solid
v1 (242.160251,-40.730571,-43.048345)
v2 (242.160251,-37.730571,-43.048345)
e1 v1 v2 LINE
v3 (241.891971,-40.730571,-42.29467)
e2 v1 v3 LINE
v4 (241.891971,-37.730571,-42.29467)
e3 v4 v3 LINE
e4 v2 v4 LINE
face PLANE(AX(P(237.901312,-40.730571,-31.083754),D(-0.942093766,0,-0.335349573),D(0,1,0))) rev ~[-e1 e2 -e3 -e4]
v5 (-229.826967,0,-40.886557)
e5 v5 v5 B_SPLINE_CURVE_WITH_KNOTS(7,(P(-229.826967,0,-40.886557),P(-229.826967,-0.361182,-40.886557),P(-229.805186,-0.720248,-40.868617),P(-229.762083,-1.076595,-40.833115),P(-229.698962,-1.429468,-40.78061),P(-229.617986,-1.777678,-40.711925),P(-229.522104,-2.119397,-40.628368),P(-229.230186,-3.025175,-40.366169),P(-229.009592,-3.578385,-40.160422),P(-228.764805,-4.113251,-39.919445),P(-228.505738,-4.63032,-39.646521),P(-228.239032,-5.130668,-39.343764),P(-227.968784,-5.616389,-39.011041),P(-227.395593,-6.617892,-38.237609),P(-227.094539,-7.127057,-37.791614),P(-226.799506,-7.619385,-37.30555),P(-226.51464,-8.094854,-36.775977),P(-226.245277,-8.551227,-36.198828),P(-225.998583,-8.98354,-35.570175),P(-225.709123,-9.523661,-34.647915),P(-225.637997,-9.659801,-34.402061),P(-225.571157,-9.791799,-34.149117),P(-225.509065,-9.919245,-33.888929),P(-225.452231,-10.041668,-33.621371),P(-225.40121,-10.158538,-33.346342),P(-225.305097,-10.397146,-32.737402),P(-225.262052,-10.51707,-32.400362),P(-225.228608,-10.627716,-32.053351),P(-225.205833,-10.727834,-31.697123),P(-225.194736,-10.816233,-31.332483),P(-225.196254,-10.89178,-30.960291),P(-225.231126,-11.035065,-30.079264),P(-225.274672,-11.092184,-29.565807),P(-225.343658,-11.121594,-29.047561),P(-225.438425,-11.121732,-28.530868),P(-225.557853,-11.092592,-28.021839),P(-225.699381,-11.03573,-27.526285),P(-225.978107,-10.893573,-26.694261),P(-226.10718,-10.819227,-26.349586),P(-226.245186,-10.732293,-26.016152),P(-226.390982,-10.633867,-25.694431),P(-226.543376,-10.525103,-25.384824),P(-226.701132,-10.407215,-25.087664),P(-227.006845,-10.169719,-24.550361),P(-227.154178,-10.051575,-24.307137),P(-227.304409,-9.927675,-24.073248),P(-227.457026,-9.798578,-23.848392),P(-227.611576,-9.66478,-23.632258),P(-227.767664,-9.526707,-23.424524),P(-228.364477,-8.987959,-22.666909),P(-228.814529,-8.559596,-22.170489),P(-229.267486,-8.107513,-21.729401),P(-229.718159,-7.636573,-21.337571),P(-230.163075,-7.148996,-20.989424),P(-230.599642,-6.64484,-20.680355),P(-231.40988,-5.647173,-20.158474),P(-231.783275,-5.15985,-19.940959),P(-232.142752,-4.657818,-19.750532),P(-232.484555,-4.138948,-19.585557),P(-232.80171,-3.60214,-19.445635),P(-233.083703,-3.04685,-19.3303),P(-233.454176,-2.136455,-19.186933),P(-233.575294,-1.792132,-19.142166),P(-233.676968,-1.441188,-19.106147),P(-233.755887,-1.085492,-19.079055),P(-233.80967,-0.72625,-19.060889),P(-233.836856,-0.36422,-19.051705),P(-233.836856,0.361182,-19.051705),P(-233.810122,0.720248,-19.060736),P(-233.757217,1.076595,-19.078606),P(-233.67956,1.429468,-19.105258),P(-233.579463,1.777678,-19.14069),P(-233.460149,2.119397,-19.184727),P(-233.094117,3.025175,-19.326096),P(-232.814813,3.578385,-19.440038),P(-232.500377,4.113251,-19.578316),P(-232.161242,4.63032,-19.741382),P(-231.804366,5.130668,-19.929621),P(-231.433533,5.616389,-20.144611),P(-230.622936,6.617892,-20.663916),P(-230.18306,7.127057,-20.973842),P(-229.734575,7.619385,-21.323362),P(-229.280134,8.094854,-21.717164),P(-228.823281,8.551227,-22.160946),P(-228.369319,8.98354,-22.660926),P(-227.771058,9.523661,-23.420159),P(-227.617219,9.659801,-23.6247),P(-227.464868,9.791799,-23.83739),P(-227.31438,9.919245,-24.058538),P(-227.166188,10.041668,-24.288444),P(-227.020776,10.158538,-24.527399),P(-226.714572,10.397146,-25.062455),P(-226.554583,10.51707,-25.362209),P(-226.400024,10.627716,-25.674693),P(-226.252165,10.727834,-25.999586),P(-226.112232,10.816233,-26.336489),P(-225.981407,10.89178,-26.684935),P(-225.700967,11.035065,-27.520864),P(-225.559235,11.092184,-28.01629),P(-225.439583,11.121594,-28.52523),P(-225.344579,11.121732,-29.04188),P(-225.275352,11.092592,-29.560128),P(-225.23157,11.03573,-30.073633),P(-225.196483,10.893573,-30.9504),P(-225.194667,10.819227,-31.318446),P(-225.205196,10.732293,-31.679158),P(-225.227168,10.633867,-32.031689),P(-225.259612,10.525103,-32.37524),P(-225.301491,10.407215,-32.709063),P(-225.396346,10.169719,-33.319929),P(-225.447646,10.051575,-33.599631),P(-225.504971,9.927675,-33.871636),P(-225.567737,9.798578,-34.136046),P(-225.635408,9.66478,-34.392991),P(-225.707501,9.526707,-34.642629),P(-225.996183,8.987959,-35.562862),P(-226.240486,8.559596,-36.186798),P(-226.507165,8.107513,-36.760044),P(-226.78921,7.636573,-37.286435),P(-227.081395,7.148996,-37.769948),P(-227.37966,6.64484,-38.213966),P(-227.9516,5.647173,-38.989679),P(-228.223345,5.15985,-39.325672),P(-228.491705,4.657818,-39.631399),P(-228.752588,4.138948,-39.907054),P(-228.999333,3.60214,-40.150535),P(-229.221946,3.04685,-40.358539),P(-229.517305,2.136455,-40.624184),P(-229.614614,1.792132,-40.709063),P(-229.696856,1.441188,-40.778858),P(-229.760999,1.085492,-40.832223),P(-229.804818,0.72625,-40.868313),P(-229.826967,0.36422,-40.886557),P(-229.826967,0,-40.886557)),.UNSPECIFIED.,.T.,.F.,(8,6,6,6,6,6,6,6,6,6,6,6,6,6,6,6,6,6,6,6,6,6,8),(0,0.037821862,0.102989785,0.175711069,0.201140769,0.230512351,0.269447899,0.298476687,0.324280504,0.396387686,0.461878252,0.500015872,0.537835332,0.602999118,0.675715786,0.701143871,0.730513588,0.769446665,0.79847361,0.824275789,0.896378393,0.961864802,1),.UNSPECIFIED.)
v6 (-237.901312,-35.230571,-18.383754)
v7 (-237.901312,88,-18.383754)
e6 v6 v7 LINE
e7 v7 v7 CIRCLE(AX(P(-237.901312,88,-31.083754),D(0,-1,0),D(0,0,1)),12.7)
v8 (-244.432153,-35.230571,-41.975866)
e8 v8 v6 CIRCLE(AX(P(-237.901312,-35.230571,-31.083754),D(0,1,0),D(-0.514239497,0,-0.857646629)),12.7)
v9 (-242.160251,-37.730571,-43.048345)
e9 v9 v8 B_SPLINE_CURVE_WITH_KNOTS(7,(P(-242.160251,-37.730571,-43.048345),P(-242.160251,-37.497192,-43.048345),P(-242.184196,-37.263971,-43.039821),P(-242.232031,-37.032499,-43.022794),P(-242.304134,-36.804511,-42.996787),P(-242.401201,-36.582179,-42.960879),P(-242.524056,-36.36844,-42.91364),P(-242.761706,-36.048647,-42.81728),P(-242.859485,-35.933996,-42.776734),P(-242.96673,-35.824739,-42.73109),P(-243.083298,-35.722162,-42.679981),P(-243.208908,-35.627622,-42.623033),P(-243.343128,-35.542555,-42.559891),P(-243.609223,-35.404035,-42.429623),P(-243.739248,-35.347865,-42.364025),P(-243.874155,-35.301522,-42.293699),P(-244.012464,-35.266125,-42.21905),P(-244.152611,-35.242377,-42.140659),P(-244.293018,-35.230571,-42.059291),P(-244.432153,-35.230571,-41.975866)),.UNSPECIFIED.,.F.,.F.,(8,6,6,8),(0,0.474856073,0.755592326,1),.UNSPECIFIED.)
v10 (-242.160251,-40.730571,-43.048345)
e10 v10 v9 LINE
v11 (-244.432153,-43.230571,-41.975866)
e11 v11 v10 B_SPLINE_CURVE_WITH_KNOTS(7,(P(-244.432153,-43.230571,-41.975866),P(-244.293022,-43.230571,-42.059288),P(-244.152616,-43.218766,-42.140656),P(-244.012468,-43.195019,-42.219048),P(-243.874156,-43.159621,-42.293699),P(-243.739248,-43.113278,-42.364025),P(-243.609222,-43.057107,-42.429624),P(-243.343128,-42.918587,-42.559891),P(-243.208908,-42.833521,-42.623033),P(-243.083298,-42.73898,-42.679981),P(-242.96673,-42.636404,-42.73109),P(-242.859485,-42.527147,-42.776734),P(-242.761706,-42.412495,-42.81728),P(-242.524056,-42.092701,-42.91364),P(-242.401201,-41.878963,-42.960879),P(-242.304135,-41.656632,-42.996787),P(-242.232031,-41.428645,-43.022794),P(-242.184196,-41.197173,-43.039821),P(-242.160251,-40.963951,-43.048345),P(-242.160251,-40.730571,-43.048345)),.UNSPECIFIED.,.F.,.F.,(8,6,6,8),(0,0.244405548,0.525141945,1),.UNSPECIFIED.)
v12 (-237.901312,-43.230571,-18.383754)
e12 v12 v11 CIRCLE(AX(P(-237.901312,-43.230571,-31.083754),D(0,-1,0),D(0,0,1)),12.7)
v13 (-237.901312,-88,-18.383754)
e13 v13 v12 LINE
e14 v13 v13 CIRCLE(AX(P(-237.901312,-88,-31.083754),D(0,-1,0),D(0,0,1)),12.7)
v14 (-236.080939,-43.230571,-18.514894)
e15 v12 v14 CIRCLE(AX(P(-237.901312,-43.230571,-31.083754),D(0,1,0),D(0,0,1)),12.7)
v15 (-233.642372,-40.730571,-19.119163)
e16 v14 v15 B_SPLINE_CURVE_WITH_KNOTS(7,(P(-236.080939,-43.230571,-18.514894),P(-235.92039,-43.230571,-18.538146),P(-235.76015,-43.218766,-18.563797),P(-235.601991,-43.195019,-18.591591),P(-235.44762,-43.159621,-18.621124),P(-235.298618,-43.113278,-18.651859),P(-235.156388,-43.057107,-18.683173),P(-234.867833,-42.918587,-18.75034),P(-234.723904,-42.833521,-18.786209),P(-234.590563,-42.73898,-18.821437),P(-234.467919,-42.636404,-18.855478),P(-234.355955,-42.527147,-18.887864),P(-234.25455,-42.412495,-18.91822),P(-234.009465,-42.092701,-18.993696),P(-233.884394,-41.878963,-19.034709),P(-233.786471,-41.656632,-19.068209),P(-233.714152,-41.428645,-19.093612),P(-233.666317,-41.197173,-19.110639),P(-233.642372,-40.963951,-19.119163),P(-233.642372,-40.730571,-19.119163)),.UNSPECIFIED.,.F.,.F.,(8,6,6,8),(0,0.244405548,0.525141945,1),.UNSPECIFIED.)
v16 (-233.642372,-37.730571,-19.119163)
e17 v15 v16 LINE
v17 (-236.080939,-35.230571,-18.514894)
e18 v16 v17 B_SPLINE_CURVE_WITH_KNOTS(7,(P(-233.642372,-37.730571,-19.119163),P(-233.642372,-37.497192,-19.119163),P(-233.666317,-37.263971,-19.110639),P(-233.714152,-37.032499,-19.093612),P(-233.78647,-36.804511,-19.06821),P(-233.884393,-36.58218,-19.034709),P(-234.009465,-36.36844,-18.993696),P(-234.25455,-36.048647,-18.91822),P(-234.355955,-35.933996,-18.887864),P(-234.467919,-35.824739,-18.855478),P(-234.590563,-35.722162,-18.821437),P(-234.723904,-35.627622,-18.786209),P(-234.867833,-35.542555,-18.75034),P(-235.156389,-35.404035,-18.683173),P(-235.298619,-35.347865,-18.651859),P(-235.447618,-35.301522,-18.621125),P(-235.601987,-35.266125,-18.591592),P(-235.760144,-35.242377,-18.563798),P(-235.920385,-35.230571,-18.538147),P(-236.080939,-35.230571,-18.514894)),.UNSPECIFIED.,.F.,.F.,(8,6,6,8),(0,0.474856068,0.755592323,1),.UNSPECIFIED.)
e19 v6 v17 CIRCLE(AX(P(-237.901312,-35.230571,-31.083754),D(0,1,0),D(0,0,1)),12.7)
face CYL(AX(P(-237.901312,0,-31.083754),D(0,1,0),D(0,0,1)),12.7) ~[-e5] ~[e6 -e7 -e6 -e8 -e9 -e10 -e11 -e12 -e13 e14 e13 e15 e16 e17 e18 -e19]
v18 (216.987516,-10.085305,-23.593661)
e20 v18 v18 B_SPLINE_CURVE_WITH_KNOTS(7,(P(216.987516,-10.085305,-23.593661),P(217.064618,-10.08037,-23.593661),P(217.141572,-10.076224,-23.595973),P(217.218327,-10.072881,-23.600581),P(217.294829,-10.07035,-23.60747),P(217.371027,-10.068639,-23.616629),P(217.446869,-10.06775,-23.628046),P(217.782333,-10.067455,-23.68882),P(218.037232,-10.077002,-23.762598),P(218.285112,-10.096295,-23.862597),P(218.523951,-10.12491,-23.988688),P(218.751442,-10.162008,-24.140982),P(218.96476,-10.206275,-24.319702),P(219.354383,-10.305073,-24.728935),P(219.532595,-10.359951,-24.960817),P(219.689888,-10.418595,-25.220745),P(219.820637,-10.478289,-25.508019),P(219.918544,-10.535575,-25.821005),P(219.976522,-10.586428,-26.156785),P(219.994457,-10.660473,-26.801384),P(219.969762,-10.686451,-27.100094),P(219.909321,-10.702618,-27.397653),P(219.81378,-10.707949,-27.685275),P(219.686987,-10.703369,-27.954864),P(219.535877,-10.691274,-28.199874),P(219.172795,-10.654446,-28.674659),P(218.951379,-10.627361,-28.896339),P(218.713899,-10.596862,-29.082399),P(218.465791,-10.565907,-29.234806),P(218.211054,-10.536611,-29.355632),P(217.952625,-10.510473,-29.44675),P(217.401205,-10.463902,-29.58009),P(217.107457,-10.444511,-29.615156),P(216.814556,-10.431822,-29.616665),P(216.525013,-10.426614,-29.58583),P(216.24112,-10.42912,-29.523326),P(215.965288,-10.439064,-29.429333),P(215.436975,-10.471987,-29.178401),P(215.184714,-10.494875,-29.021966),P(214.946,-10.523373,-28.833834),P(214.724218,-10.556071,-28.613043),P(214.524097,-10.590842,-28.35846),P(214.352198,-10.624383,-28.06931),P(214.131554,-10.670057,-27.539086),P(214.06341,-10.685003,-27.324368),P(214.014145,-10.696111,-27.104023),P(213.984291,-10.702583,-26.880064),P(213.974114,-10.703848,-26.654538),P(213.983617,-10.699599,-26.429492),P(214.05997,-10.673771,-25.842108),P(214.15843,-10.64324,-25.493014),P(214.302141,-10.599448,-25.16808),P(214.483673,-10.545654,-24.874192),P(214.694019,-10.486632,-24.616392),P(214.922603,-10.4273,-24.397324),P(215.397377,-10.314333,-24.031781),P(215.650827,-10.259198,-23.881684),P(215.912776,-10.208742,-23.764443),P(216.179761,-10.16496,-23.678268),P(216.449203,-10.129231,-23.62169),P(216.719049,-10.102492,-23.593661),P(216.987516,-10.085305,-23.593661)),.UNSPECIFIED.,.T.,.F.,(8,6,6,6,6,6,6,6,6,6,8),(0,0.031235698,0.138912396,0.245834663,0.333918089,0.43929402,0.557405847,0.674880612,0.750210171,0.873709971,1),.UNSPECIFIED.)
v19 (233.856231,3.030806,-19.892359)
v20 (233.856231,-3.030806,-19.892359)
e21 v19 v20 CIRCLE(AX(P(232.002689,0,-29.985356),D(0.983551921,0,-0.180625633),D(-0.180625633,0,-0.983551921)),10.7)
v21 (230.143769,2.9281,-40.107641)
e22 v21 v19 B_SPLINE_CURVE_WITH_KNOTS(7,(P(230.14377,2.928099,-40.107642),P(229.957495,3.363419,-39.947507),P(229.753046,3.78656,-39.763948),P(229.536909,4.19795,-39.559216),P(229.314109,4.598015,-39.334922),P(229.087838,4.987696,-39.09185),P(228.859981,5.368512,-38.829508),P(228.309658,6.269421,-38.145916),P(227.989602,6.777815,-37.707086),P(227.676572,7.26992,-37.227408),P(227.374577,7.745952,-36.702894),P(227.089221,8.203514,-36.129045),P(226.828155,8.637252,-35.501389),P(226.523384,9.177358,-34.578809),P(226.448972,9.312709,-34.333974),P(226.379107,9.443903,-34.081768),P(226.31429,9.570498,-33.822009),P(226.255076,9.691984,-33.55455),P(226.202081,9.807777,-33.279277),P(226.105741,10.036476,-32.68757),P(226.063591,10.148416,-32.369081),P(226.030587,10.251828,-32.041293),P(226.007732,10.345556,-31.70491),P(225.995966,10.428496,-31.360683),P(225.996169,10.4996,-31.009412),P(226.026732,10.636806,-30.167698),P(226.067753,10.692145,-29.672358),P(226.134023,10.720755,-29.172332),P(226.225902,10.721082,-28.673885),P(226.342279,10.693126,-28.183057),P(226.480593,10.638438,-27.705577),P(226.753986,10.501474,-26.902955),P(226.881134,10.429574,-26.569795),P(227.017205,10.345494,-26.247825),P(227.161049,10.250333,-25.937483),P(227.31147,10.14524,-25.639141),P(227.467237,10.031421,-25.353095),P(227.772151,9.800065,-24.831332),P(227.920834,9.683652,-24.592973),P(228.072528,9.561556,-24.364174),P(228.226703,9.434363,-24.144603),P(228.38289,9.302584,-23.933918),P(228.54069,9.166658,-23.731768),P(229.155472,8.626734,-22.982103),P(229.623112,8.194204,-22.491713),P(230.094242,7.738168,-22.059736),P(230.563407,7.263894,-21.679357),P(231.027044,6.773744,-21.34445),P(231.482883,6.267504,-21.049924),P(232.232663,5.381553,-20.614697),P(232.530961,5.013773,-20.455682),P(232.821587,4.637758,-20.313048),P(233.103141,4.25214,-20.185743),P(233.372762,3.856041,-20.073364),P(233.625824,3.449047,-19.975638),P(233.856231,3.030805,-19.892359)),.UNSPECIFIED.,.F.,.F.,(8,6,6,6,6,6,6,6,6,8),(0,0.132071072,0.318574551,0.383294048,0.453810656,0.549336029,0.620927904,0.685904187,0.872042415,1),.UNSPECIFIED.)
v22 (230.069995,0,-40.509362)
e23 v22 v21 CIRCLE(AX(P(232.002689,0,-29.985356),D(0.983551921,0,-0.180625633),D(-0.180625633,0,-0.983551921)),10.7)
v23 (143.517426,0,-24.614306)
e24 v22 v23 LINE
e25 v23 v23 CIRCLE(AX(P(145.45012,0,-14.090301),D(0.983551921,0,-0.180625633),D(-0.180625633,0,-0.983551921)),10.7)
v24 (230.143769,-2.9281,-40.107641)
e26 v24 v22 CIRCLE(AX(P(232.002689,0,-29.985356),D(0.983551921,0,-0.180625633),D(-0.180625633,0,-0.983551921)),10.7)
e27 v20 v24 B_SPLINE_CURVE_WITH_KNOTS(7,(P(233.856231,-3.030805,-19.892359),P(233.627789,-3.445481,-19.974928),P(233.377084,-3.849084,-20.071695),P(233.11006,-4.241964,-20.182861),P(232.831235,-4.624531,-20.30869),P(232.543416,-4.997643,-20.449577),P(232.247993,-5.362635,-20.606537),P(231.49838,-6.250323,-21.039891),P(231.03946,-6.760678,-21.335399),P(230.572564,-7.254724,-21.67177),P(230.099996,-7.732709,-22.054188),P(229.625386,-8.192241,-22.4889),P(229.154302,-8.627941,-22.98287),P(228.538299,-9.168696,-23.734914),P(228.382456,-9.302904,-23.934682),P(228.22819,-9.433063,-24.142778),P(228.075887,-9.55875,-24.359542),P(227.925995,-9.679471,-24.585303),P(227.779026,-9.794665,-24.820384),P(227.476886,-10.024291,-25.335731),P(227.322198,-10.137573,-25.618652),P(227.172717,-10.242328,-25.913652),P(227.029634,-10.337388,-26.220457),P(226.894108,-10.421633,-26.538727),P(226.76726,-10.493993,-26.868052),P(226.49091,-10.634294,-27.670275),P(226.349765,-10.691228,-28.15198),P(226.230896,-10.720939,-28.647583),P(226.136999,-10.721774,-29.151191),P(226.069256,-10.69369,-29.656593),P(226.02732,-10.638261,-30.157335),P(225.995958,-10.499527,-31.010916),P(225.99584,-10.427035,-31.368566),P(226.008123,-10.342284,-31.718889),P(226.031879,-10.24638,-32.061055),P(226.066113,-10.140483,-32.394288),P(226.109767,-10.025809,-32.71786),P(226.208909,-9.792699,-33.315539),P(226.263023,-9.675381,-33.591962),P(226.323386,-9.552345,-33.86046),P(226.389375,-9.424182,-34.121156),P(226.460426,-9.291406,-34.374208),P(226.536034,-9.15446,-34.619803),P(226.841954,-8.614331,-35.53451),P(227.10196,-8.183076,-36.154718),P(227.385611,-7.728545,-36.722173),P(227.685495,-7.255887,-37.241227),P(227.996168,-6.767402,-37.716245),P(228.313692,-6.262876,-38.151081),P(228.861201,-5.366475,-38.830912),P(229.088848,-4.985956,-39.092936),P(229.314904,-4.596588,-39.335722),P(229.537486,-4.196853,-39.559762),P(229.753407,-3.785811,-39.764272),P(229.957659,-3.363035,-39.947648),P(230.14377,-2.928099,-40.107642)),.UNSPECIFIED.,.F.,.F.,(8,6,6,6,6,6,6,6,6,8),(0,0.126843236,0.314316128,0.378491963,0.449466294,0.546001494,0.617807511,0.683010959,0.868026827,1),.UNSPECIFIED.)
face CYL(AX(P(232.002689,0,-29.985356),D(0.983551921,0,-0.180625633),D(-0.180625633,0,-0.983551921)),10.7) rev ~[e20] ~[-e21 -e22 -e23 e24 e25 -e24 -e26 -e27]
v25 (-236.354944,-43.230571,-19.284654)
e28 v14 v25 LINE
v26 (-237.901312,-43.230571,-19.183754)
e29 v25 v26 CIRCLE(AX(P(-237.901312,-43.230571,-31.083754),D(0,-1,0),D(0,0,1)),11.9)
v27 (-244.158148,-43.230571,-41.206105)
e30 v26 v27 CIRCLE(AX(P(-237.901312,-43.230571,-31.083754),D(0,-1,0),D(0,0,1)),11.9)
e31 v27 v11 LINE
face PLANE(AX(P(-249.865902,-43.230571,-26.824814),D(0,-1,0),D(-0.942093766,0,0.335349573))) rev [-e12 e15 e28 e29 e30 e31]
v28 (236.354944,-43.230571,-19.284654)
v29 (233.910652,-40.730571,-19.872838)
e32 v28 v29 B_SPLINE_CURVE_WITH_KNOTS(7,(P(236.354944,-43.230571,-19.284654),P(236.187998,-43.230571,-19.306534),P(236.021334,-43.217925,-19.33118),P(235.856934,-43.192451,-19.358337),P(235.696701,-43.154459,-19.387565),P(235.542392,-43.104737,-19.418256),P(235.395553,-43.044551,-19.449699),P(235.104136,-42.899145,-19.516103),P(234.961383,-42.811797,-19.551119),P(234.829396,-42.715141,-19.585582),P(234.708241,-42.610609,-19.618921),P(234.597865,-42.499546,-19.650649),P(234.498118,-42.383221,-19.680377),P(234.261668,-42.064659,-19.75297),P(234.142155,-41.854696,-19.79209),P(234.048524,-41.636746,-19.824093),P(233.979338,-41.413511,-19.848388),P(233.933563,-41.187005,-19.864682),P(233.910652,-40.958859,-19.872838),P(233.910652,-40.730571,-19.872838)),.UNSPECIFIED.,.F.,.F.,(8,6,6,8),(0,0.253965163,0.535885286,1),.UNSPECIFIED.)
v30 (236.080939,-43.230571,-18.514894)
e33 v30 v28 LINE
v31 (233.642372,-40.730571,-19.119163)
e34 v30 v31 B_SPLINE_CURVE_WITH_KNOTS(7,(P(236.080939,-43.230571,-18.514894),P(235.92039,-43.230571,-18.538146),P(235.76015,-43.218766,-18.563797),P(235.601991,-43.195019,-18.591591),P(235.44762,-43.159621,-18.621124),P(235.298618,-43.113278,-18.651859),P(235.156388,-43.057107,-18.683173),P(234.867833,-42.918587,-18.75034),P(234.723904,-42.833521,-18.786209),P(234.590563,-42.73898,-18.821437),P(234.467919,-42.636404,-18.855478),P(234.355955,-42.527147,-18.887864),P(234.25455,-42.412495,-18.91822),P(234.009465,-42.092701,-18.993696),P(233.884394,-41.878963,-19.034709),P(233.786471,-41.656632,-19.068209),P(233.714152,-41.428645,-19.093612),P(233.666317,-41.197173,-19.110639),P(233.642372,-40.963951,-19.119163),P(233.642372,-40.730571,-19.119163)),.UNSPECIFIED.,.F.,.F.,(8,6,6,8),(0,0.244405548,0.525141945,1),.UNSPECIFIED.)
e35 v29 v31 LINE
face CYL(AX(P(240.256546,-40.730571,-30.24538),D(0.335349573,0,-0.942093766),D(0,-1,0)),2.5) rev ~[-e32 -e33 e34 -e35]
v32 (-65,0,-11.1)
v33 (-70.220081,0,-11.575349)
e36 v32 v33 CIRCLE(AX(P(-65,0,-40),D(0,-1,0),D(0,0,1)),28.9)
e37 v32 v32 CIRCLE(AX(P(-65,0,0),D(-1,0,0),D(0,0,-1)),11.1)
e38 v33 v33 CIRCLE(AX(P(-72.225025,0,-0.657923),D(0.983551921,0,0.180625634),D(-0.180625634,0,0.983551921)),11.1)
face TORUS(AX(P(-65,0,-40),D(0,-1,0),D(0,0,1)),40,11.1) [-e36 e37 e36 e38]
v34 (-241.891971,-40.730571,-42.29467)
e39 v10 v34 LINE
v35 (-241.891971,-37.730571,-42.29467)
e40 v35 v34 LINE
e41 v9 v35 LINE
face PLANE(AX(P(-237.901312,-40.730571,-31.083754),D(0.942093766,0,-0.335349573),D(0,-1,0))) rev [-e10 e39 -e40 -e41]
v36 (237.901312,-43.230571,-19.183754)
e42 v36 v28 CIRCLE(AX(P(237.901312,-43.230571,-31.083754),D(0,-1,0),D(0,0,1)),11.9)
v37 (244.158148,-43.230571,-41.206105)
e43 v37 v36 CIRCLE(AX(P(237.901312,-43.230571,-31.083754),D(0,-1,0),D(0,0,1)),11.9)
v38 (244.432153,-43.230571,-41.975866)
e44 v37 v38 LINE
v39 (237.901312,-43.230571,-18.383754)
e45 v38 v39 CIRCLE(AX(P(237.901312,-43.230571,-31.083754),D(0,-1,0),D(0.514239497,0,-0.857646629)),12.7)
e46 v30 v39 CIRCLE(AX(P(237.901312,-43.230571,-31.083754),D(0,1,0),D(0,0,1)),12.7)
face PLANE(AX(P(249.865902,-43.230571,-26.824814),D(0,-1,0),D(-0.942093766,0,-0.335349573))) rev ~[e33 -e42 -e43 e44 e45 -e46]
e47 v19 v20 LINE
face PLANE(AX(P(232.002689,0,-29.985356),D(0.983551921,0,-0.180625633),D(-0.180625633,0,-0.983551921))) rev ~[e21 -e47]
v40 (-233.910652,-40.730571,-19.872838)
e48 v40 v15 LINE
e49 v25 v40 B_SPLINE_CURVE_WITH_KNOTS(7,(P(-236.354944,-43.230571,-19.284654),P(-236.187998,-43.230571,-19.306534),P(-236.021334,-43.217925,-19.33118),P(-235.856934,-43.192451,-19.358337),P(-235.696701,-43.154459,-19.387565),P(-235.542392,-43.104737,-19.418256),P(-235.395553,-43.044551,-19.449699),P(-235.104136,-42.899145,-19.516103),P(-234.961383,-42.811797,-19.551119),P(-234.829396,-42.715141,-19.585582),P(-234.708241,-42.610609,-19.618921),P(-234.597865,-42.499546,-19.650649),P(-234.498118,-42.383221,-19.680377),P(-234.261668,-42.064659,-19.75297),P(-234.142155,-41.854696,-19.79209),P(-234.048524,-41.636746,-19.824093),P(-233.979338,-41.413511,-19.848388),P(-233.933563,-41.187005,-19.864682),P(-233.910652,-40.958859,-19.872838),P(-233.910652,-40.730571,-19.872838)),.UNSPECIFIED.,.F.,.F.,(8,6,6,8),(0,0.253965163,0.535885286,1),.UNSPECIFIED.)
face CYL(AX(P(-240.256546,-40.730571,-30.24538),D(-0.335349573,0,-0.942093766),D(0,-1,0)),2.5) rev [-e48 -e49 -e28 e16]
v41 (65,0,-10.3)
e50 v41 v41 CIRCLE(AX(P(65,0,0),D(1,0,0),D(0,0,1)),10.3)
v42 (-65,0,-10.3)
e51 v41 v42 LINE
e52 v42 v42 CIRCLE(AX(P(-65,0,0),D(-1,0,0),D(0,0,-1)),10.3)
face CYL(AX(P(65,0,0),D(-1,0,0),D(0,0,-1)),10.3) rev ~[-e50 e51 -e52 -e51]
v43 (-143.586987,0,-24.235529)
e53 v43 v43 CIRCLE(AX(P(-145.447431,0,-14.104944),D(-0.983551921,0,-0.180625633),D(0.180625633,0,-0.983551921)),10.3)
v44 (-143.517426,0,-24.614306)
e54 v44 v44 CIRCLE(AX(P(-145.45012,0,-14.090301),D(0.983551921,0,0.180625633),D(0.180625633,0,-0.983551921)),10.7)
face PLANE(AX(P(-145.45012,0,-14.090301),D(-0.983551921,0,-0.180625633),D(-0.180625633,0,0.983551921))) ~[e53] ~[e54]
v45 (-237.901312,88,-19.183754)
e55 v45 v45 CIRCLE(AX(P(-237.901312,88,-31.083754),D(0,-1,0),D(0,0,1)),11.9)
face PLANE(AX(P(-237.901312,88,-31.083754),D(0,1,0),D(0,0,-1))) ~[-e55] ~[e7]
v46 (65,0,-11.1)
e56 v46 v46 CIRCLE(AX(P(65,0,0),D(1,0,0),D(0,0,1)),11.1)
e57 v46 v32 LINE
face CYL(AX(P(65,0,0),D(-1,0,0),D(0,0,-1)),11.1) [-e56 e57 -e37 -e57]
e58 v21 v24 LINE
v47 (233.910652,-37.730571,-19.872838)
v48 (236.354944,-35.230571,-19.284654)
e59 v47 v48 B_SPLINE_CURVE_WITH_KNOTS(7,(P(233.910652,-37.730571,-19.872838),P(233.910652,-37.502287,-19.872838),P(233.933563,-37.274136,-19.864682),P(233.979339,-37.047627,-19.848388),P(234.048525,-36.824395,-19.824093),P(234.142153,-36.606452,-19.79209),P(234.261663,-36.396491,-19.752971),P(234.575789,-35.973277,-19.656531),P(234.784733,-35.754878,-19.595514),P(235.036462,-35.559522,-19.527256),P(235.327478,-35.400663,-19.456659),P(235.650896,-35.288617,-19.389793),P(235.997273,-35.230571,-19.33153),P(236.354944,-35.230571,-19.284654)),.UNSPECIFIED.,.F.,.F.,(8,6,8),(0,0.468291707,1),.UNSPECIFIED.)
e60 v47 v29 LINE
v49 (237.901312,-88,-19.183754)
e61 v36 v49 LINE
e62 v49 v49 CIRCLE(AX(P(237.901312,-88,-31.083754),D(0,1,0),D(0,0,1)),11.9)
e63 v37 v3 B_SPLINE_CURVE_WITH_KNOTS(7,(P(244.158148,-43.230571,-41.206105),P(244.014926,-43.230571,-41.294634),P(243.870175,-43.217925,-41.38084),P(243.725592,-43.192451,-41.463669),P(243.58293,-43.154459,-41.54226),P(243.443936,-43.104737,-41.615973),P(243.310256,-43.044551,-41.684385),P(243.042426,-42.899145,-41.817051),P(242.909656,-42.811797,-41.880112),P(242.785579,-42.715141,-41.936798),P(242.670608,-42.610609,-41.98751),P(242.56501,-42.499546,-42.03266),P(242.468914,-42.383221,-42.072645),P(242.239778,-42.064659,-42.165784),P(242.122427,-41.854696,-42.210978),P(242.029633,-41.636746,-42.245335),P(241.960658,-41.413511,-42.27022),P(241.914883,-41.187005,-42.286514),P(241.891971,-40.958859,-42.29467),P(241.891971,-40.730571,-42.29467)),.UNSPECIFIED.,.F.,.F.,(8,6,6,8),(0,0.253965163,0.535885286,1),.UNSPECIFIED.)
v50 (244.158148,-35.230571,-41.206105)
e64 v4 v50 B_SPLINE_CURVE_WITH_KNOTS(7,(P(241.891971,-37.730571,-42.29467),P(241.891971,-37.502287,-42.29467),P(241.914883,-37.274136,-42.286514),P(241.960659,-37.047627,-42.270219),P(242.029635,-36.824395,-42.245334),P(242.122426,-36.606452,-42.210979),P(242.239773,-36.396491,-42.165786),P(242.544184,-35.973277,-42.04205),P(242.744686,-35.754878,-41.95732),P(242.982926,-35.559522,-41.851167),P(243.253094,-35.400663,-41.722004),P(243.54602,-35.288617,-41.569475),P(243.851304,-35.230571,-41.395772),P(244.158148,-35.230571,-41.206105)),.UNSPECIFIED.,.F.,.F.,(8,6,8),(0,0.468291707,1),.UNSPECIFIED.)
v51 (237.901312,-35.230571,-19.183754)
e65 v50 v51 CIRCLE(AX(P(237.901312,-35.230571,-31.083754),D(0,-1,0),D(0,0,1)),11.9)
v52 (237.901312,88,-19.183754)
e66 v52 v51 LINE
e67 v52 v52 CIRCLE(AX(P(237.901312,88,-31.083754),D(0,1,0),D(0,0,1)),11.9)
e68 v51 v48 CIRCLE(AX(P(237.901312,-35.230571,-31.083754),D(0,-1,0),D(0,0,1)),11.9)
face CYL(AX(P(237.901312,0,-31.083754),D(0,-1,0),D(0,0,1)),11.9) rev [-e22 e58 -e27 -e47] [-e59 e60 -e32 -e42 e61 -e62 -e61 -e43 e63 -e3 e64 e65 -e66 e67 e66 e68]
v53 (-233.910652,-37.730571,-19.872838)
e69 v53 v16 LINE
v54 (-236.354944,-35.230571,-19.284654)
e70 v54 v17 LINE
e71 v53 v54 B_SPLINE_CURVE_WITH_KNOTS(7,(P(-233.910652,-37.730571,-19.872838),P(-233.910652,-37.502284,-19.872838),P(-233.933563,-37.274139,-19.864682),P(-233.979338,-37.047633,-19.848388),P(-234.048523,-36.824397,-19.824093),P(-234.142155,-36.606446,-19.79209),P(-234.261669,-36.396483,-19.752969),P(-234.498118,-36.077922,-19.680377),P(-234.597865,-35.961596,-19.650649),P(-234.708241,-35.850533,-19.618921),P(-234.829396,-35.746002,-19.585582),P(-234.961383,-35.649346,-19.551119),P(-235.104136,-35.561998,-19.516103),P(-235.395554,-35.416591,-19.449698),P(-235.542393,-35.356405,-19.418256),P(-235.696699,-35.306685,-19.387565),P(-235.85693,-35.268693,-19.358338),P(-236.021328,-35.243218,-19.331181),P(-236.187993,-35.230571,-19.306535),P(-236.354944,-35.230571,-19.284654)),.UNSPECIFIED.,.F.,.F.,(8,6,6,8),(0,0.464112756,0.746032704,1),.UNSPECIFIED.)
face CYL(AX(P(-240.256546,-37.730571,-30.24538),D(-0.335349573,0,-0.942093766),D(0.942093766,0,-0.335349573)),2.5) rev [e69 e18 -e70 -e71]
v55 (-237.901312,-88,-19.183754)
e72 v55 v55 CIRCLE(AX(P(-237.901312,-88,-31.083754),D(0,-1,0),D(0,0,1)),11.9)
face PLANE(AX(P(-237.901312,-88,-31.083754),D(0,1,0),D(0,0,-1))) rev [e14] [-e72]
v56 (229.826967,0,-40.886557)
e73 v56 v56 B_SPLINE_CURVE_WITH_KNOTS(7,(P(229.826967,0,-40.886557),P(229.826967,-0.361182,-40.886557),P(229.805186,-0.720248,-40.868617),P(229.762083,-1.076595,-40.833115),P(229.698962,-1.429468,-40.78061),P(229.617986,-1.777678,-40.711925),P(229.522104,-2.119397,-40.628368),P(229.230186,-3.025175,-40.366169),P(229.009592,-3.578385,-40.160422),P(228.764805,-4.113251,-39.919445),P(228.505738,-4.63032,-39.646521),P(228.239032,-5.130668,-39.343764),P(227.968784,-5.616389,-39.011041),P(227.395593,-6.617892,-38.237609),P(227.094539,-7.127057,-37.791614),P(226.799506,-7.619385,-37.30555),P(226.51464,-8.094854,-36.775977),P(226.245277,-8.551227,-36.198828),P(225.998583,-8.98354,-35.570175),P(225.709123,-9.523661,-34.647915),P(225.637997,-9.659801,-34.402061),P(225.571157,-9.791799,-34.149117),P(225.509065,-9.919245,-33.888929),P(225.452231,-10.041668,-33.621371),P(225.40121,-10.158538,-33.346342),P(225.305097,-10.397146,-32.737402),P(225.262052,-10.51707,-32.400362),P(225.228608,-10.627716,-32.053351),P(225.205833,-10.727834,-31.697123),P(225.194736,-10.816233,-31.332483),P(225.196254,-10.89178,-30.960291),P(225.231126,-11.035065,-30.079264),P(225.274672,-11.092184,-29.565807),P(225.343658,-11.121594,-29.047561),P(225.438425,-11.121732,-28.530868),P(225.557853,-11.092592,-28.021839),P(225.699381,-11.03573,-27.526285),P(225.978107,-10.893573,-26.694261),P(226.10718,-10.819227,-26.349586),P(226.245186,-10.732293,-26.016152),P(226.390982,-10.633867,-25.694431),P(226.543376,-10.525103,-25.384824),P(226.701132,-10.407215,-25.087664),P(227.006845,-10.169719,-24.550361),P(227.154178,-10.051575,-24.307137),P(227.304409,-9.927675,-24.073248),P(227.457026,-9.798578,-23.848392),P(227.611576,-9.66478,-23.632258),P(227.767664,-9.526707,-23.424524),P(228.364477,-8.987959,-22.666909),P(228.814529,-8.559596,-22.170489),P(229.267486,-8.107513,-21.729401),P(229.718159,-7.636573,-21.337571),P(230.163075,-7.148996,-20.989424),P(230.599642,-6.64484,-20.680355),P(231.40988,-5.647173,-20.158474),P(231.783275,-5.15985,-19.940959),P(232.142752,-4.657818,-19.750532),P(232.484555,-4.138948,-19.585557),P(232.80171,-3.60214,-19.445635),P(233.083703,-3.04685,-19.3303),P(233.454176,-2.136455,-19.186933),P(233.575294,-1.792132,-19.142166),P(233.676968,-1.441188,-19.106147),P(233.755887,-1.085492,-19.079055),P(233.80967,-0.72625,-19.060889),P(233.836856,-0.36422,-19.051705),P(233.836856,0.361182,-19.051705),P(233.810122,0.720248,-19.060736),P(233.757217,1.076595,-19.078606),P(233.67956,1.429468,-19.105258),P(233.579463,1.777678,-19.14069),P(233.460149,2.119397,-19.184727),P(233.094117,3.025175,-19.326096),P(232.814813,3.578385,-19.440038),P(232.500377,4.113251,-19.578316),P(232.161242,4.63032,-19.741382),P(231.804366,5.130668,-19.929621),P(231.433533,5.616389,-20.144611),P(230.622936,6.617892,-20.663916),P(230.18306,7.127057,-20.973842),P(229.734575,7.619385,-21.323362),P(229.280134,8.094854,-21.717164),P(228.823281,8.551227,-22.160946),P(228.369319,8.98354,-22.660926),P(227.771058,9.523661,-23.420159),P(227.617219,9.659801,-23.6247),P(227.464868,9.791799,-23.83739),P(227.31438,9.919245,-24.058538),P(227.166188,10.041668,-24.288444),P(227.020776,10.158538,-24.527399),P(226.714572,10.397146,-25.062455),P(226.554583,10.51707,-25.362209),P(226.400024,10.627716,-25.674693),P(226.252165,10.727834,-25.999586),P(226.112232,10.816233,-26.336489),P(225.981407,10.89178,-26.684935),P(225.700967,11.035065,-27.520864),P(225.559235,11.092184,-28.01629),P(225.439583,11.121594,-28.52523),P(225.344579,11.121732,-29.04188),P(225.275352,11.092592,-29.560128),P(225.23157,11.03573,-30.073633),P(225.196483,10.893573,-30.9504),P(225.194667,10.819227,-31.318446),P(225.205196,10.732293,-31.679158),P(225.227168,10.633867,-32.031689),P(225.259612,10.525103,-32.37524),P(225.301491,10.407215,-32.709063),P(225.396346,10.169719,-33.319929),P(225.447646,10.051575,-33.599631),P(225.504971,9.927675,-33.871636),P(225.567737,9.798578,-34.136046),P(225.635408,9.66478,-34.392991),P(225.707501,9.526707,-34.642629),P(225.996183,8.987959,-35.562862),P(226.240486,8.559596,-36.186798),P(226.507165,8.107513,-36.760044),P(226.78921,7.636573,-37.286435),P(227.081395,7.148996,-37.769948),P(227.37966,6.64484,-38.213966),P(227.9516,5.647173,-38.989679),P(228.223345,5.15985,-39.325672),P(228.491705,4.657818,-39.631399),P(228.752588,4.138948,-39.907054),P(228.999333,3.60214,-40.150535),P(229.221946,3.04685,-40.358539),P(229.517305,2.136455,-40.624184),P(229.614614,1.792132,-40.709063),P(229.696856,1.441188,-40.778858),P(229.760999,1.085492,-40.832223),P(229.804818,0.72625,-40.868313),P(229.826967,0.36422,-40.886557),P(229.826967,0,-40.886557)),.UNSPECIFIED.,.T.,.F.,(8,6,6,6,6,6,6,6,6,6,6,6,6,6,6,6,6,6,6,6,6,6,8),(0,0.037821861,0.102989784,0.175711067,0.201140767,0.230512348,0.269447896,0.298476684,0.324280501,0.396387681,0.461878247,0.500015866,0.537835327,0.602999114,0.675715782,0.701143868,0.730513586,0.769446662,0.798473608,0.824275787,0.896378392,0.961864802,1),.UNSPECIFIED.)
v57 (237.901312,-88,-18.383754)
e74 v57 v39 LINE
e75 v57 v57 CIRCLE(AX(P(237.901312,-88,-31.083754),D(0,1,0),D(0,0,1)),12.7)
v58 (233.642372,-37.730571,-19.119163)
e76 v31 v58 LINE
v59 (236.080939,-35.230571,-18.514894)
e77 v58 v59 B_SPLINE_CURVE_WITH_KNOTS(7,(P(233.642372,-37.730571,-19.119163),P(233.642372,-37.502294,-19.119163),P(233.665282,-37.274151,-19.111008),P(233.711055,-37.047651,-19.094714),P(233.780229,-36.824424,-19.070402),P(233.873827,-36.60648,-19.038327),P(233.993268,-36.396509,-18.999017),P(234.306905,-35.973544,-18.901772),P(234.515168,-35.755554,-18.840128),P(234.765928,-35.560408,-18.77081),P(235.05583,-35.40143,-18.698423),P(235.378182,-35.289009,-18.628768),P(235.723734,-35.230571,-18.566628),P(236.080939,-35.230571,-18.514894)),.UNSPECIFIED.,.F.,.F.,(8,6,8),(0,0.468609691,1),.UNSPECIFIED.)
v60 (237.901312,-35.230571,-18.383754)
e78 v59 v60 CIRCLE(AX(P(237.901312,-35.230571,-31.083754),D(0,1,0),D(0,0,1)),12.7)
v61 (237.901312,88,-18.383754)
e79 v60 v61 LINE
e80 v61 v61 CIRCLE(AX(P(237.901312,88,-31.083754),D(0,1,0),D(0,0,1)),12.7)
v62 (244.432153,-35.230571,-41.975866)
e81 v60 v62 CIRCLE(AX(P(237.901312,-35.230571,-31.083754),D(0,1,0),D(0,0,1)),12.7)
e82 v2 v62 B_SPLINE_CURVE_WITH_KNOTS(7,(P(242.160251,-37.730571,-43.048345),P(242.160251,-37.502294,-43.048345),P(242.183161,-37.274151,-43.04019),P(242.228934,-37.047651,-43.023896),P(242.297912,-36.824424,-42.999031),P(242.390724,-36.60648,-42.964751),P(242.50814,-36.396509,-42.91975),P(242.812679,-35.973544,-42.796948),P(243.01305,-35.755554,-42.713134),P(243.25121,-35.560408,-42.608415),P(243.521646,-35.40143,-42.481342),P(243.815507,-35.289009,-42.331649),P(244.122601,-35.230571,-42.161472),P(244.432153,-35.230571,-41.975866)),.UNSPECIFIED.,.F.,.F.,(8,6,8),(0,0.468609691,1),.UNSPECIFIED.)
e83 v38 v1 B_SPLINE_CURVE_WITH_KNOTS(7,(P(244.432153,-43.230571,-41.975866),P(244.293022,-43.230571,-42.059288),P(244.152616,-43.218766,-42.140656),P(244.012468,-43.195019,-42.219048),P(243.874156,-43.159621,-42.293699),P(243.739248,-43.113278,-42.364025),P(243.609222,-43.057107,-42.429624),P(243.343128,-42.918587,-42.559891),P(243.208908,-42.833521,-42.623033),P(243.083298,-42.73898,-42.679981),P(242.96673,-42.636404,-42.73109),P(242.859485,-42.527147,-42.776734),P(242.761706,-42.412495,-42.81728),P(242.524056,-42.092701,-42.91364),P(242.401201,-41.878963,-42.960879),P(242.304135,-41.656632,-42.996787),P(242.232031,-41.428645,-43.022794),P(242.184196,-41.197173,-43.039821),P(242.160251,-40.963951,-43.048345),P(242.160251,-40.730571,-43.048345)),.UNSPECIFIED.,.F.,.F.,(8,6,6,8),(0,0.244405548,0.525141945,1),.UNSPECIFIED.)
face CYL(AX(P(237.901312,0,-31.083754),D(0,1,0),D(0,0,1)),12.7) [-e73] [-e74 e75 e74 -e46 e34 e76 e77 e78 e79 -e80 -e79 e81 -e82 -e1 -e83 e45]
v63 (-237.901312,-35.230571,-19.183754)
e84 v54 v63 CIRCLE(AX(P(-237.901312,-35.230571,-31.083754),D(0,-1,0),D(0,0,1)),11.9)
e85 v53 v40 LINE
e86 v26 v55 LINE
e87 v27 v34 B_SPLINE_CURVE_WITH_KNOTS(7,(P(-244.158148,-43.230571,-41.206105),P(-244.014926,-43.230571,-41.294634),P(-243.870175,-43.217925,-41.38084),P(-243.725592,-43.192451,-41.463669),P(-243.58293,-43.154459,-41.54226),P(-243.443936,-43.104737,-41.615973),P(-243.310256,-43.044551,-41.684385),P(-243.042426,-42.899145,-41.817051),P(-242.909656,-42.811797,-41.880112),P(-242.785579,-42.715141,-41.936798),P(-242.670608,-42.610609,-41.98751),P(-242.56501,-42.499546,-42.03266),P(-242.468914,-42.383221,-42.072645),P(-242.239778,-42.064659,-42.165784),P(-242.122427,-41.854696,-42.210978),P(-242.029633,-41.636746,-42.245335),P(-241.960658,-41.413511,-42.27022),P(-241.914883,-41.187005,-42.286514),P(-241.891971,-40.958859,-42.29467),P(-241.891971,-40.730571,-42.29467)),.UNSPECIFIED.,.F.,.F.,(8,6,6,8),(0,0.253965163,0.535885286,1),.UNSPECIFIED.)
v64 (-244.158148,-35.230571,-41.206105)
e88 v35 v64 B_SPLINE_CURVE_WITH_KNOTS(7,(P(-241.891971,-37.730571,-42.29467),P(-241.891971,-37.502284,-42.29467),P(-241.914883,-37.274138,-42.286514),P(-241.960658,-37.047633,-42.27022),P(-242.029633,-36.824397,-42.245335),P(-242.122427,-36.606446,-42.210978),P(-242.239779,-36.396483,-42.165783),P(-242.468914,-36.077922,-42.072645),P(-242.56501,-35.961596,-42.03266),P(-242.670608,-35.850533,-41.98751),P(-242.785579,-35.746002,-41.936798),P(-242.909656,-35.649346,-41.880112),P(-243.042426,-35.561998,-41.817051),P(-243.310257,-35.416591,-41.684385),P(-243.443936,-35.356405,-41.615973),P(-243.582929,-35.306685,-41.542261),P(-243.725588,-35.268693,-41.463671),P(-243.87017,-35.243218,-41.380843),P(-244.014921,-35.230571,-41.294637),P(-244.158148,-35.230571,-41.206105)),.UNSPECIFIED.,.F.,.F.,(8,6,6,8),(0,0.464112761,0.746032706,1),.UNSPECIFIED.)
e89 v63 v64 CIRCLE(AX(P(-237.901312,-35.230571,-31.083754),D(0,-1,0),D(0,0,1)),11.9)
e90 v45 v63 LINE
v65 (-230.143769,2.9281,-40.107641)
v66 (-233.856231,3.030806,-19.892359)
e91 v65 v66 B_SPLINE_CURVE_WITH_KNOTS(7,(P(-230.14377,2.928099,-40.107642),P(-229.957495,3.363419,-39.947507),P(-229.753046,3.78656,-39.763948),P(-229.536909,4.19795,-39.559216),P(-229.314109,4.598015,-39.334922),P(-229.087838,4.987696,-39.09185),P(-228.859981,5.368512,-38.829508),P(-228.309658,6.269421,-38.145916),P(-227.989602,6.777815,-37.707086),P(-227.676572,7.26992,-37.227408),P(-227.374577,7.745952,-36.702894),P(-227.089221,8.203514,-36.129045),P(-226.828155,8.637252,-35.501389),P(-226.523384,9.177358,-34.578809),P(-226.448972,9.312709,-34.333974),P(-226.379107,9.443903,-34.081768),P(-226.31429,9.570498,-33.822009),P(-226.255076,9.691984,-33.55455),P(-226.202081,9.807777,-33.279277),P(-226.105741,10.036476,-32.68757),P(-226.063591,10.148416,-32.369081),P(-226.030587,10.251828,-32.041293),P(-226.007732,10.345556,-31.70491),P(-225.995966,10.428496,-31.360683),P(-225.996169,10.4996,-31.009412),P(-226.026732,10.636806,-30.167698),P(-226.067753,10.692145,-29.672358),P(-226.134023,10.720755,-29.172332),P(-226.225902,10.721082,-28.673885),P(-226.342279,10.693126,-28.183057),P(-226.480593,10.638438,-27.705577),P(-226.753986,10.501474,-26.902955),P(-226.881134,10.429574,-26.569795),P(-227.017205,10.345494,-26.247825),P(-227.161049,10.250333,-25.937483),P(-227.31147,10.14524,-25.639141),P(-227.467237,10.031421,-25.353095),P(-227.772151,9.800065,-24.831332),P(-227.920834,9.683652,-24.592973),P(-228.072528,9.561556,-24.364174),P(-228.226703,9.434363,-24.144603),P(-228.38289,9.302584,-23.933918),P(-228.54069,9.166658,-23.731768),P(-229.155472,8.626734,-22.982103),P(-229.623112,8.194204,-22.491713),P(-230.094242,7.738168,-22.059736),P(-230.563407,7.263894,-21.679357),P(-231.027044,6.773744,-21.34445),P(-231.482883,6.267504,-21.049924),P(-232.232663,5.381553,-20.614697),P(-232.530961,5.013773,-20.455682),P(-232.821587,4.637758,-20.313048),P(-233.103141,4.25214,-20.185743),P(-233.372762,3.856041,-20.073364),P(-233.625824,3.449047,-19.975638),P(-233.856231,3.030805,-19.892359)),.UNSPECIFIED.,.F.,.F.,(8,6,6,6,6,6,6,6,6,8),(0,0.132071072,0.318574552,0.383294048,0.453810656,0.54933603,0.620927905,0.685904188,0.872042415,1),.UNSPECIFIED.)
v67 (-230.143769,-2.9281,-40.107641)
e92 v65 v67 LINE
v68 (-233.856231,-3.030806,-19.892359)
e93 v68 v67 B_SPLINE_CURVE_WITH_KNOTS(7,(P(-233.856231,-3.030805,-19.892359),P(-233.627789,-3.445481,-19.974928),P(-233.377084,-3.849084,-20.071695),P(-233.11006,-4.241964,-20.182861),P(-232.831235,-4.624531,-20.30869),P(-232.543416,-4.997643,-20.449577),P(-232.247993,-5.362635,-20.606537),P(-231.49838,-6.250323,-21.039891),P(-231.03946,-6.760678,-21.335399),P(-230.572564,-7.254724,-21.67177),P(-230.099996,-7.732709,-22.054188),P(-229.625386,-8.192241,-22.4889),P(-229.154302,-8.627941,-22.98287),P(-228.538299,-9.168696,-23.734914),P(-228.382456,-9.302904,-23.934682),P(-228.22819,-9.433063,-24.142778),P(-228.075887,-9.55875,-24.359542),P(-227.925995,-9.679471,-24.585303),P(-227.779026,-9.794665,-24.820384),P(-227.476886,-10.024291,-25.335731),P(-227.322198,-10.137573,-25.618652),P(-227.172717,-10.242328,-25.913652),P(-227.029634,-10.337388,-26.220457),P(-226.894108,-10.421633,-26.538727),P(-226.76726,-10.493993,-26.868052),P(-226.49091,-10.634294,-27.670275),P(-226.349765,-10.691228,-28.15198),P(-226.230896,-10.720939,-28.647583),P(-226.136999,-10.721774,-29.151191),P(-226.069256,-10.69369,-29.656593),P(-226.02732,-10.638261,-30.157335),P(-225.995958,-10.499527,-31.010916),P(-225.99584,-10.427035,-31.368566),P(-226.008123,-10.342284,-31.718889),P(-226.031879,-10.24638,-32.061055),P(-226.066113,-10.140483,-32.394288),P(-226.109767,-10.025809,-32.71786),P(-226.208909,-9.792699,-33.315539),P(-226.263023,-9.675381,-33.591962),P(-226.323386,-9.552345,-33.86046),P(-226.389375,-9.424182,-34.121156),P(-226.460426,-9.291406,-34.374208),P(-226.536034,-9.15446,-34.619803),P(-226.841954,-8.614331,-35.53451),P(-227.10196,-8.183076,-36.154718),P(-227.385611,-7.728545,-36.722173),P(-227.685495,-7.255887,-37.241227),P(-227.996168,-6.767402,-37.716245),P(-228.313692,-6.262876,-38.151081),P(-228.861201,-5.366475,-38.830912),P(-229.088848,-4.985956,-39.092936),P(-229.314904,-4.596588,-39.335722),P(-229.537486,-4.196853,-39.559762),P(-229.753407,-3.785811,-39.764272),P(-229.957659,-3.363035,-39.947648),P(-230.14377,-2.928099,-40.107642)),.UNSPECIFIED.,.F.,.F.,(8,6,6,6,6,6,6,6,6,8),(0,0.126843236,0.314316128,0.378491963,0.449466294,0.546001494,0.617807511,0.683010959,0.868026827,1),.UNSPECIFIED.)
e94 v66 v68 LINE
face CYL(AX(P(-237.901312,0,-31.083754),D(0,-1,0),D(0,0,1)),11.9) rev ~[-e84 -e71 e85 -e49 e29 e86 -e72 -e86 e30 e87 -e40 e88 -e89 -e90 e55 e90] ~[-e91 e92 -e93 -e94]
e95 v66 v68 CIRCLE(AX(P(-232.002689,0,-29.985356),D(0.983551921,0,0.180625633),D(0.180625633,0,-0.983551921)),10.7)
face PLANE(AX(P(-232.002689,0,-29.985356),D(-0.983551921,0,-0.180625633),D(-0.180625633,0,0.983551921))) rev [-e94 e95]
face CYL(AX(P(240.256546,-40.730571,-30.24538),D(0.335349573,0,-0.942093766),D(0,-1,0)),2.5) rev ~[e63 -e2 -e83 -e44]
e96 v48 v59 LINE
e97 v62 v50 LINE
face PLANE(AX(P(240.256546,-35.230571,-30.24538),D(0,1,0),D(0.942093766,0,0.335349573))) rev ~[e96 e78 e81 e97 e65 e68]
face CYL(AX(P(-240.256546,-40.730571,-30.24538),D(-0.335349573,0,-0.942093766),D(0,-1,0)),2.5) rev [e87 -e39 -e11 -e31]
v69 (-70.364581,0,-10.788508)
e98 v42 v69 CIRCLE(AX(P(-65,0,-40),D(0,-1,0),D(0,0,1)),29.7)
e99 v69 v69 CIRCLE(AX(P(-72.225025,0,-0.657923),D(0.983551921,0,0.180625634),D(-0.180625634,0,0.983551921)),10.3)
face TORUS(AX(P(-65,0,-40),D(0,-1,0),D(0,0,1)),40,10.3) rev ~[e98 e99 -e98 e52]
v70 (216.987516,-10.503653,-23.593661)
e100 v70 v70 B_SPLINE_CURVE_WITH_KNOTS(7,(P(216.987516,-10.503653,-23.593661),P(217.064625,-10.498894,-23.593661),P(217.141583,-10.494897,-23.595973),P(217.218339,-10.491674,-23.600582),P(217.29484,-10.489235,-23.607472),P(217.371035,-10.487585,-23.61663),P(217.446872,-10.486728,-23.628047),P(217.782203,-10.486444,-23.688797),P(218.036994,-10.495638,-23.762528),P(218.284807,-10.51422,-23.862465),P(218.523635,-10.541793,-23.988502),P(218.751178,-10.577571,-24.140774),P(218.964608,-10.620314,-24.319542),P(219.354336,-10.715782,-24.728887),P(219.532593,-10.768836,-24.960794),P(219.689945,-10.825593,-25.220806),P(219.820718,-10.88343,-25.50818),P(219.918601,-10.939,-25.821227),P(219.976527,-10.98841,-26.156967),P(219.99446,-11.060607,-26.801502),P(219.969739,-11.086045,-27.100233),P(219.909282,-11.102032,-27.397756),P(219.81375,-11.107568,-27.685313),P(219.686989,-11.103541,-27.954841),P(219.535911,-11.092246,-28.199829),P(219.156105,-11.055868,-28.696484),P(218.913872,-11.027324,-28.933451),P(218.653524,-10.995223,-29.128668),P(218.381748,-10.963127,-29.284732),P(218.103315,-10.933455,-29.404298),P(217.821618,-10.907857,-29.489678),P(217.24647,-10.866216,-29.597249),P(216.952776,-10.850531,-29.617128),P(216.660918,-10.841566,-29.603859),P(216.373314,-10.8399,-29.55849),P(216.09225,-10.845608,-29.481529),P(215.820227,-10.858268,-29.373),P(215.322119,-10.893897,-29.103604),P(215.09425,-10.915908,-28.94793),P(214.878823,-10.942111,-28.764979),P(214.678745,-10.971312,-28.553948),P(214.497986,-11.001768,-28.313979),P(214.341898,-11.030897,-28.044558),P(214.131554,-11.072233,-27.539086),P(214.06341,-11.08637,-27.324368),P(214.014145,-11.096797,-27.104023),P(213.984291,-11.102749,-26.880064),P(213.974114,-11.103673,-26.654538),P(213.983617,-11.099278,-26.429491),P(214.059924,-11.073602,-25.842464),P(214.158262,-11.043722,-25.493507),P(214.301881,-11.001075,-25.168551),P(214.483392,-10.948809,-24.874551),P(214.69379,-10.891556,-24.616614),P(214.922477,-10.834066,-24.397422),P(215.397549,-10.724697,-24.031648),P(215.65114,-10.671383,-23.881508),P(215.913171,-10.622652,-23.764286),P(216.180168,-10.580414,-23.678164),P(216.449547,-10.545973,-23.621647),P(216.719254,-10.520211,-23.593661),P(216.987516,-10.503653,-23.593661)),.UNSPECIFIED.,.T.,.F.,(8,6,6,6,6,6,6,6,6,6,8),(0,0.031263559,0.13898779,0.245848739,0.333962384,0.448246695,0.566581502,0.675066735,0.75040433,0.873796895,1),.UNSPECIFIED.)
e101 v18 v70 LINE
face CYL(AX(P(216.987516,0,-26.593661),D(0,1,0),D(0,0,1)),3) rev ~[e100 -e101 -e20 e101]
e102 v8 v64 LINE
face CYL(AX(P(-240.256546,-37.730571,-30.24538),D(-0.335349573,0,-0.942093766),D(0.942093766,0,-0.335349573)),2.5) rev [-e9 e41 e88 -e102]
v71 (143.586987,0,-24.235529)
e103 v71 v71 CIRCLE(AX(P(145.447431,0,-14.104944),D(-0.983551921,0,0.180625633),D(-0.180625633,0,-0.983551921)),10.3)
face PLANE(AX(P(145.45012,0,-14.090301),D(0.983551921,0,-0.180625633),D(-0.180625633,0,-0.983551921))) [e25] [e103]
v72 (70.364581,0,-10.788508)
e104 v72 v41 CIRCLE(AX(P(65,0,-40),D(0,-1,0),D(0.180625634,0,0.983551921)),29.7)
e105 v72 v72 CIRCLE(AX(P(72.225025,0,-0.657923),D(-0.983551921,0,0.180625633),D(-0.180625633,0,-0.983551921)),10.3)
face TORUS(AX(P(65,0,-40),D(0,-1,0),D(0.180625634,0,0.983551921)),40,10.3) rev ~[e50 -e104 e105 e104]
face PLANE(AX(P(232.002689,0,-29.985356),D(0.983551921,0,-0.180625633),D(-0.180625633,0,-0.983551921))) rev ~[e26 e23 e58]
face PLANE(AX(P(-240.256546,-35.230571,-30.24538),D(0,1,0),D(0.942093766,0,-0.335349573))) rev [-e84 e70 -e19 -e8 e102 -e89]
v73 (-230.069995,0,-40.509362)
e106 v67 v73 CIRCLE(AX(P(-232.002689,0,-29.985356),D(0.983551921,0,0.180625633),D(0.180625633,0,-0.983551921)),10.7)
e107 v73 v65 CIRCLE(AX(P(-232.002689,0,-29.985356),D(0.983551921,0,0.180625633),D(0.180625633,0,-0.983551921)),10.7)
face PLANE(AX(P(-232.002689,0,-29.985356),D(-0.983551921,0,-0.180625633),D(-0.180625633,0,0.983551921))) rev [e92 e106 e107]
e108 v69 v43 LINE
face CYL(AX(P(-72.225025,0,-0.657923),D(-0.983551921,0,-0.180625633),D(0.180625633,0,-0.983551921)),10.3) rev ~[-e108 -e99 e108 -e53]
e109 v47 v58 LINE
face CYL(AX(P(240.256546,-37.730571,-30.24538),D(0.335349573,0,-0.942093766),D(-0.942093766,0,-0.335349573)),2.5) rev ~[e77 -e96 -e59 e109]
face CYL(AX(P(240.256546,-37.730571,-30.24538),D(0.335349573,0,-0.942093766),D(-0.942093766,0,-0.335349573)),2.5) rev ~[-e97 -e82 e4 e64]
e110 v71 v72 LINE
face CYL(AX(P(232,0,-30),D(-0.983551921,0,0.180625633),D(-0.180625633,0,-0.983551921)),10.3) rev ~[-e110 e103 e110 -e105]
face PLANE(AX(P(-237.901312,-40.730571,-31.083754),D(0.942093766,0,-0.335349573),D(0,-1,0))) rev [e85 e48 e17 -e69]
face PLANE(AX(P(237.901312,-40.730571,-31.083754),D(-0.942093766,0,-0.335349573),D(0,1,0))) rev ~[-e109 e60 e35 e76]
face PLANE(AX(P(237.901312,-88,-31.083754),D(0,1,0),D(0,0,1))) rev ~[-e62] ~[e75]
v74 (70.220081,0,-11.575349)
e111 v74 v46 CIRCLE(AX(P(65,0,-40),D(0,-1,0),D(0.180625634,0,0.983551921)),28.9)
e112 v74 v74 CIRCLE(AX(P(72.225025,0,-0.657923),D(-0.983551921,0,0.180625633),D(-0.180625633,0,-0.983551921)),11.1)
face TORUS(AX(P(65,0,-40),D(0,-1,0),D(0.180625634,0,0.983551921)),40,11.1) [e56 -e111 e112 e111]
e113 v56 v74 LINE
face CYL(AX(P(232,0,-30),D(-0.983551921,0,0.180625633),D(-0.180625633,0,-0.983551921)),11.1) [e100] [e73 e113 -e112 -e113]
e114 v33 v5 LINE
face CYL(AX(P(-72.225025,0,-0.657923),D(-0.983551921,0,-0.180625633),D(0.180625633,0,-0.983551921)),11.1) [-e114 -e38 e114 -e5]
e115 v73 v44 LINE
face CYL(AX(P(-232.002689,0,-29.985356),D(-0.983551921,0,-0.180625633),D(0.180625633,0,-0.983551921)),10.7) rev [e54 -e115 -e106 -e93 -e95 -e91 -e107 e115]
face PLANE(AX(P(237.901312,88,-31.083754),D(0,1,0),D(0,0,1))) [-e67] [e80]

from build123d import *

# Parameters (mm, degrees)
SKETCH2_R               = 11.1
SKETCH2_R_2             = 10.3
SKETCH3_R               = 12.7
SKETCH3_R_2             = 11.9
BOSS_EXTRUDE1_DEPTH     = 88
SKETCH4_R               = 11.9
CUT_EXTRUDE1_DEPTH      = 310.344523999
SKETCH5_R               = 10.7
CUT_EXTRUDE2_DEPTH      = 88
CUT_EXTRUDE3_DEPTH      = 20
CUT_EXTRUDE4_REACH      = 271.188
CUT_EXTRUDE4_END_RADIUS = 11.1
SKETCH8_R               = 3


with BuildPart() as part:
    # Sweep1: sweep along a path in Sketch1
    with BuildLine(Plane(origin=(0, 0, 0), x_dir=(1, 0, 0), z_dir=(0, 1, 0))) as sweep1_path:
        Line((232, 30), (72.22502534, 0.657923176))
        ThreePointArc((72.22502534, 0.657923176), (68.627459651, 0.164820366), (65, 0))
        Line((65, 0), (-65, 0))
        ThreePointArc((-65, 0), (-68.627459651, 0.164820366), (-72.22502534, 0.657923176))
        Line((-72.22502534, 0.657923176), (-232, 30))
    # Sketch2 → Sweep1 (sweep)
    with BuildSketch(Plane(origin=(232, 0, -30), x_dir=(-0.18062563349676417, 0, -0.9835519206040384), z_dir=(0.9835519206040384, 0, -0.18062563349676417))):
        Circle(SKETCH2_R)
        Circle(SKETCH2_R_2, mode=Mode.SUBTRACT)
    sweep(path=sweep1_path.line)

    # Sketch3 → Boss-Extrude1 (add, symmetric)
    with BuildSketch(Plane(origin=(0, 0, 0), x_dir=(1, 0, 0), z_dir=(0, 1, 0))):
        with Locations(Location((237.901311524, 31.083753801, 0), (0, 0, 270))):
            Circle(SKETCH3_R)
        with Locations(Location((237.901311524, 31.083753801, 0), (0, 0, 270))):
            Circle(SKETCH3_R_2, mode=Mode.SUBTRACT)
    boss_extrude1 = extrude(amount=BOSS_EXTRUDE1_DEPTH, both=True)

    # Sketch4 → Cut-Extrude1 (cut, through all)
    with BuildSketch(Plane.XZ.offset(88)):
        with Locations(Location((237.901311524, -31.083753801, 0), (0, 0, 90))):
            Circle(SKETCH4_R)
    cut_extrude1 = extrude(amount=-CUT_EXTRUDE1_DEPTH, mode=Mode.SUBTRACT)

    # Sketch5 → Cut-Extrude2 (cut)
    with BuildSketch(Plane(origin=(232, 0, -30), x_dir=(-0.18062563349676417, 0, -0.9835519206040384), z_dir=(0.9835519206040384, 0, -0.18062563349676417))):
        with Locations((-0.014888445, 0)):
            Circle(SKETCH5_R)
    cut_extrude2 = extrude(amount=-CUT_EXTRUDE2_DEPTH, mode=Mode.SUBTRACT)

    # Sketch7 → Cut-Extrude3 (cut, symmetric)
    with BuildSketch(Plane(origin=(237.901311524, 88, -31.083753801), x_dir=(-0.9420937659324533, 0, -0.3353495731191677), z_dir=(0.33534957311916763, 0, -0.9420937659324532))):
        with BuildLine():
            Line((-2.5, -123.230571249), (-12.7, -123.230571249))
            Line((-12.7, -123.230571249), (-12.7, -131.230571249))
            Line((-12.7, -131.230571249), (-2.5, -131.230571249))
            ThreePointArc((-2.5, -131.230571249), (-0.732233047, -130.498338202), (0, -128.730571249))
            Line((0, -128.730571249), (0, -125.730571249))
            ThreePointArc((0, -125.730571249), (-0.732233047, -123.962804296), (-2.5, -123.230571249))
        make_face()
    cut_extrude3 = extrude(amount=CUT_EXTRUDE3_DEPTH, both=True, mode=Mode.SUBTRACT)

    # Mirror1: Boss-Extrude1, Cut-Extrude1, Cut-Extrude2, Cut-Extrude3 across plane
    add(boss_extrude1.mirror(Plane(origin=(0, 0, 0), x_dir=(0, 0, 1), z_dir=(1, 0, 0))))
    add(cut_extrude1.mirror(Plane(origin=(0, 0, 0), x_dir=(0, 0, 1), z_dir=(1, 0, 0))), mode=Mode.SUBTRACT)
    add(cut_extrude2.mirror(Plane(origin=(0, 0, 0), x_dir=(0, 0, 1), z_dir=(1, 0, 0))), mode=Mode.SUBTRACT)
    add(cut_extrude3.mirror(Plane(origin=(0, 0, 0), x_dir=(0, 0, 1), z_dir=(1, 0, 0))), mode=Mode.SUBTRACT)

    # Cut-Extrude4: up to this cylinder (the profile starts inside it)
    cut_extrude4_end = Plane(origin=(216.872155496, 0, -27.221827908), z_dir=(0.9835519206040384, 0, -0.1806256334967642)) * Cylinder(CUT_EXTRUDE4_END_RADIUS, 565.576, mode=Mode.PRIVATE)
    # Sketch8 → Cut-Extrude4 (cut, up to the surface)
    with BuildSketch(Plane(origin=(0, 0, 0), x_dir=(1, 0, 0), z_dir=(0, 1, 0)), mode=Mode.PRIVATE) as cut_extrude4_sk1:
        with Locations(Location((216.987516382, 26.593661315, 0), (0, 0, 270))):
            Circle(SKETCH8_R)
    cut_extrude4_tool1 = extrude(cut_extrude4_sk1.sketch, amount=-CUT_EXTRUDE4_REACH, mode=Mode.PRIVATE) & cut_extrude4_end
    add(cut_extrude4_tool1.solids().sort_by_distance((216.987516, 0, -26.593661))[0], mode=Mode.SUBTRACT)


solid = part.part
